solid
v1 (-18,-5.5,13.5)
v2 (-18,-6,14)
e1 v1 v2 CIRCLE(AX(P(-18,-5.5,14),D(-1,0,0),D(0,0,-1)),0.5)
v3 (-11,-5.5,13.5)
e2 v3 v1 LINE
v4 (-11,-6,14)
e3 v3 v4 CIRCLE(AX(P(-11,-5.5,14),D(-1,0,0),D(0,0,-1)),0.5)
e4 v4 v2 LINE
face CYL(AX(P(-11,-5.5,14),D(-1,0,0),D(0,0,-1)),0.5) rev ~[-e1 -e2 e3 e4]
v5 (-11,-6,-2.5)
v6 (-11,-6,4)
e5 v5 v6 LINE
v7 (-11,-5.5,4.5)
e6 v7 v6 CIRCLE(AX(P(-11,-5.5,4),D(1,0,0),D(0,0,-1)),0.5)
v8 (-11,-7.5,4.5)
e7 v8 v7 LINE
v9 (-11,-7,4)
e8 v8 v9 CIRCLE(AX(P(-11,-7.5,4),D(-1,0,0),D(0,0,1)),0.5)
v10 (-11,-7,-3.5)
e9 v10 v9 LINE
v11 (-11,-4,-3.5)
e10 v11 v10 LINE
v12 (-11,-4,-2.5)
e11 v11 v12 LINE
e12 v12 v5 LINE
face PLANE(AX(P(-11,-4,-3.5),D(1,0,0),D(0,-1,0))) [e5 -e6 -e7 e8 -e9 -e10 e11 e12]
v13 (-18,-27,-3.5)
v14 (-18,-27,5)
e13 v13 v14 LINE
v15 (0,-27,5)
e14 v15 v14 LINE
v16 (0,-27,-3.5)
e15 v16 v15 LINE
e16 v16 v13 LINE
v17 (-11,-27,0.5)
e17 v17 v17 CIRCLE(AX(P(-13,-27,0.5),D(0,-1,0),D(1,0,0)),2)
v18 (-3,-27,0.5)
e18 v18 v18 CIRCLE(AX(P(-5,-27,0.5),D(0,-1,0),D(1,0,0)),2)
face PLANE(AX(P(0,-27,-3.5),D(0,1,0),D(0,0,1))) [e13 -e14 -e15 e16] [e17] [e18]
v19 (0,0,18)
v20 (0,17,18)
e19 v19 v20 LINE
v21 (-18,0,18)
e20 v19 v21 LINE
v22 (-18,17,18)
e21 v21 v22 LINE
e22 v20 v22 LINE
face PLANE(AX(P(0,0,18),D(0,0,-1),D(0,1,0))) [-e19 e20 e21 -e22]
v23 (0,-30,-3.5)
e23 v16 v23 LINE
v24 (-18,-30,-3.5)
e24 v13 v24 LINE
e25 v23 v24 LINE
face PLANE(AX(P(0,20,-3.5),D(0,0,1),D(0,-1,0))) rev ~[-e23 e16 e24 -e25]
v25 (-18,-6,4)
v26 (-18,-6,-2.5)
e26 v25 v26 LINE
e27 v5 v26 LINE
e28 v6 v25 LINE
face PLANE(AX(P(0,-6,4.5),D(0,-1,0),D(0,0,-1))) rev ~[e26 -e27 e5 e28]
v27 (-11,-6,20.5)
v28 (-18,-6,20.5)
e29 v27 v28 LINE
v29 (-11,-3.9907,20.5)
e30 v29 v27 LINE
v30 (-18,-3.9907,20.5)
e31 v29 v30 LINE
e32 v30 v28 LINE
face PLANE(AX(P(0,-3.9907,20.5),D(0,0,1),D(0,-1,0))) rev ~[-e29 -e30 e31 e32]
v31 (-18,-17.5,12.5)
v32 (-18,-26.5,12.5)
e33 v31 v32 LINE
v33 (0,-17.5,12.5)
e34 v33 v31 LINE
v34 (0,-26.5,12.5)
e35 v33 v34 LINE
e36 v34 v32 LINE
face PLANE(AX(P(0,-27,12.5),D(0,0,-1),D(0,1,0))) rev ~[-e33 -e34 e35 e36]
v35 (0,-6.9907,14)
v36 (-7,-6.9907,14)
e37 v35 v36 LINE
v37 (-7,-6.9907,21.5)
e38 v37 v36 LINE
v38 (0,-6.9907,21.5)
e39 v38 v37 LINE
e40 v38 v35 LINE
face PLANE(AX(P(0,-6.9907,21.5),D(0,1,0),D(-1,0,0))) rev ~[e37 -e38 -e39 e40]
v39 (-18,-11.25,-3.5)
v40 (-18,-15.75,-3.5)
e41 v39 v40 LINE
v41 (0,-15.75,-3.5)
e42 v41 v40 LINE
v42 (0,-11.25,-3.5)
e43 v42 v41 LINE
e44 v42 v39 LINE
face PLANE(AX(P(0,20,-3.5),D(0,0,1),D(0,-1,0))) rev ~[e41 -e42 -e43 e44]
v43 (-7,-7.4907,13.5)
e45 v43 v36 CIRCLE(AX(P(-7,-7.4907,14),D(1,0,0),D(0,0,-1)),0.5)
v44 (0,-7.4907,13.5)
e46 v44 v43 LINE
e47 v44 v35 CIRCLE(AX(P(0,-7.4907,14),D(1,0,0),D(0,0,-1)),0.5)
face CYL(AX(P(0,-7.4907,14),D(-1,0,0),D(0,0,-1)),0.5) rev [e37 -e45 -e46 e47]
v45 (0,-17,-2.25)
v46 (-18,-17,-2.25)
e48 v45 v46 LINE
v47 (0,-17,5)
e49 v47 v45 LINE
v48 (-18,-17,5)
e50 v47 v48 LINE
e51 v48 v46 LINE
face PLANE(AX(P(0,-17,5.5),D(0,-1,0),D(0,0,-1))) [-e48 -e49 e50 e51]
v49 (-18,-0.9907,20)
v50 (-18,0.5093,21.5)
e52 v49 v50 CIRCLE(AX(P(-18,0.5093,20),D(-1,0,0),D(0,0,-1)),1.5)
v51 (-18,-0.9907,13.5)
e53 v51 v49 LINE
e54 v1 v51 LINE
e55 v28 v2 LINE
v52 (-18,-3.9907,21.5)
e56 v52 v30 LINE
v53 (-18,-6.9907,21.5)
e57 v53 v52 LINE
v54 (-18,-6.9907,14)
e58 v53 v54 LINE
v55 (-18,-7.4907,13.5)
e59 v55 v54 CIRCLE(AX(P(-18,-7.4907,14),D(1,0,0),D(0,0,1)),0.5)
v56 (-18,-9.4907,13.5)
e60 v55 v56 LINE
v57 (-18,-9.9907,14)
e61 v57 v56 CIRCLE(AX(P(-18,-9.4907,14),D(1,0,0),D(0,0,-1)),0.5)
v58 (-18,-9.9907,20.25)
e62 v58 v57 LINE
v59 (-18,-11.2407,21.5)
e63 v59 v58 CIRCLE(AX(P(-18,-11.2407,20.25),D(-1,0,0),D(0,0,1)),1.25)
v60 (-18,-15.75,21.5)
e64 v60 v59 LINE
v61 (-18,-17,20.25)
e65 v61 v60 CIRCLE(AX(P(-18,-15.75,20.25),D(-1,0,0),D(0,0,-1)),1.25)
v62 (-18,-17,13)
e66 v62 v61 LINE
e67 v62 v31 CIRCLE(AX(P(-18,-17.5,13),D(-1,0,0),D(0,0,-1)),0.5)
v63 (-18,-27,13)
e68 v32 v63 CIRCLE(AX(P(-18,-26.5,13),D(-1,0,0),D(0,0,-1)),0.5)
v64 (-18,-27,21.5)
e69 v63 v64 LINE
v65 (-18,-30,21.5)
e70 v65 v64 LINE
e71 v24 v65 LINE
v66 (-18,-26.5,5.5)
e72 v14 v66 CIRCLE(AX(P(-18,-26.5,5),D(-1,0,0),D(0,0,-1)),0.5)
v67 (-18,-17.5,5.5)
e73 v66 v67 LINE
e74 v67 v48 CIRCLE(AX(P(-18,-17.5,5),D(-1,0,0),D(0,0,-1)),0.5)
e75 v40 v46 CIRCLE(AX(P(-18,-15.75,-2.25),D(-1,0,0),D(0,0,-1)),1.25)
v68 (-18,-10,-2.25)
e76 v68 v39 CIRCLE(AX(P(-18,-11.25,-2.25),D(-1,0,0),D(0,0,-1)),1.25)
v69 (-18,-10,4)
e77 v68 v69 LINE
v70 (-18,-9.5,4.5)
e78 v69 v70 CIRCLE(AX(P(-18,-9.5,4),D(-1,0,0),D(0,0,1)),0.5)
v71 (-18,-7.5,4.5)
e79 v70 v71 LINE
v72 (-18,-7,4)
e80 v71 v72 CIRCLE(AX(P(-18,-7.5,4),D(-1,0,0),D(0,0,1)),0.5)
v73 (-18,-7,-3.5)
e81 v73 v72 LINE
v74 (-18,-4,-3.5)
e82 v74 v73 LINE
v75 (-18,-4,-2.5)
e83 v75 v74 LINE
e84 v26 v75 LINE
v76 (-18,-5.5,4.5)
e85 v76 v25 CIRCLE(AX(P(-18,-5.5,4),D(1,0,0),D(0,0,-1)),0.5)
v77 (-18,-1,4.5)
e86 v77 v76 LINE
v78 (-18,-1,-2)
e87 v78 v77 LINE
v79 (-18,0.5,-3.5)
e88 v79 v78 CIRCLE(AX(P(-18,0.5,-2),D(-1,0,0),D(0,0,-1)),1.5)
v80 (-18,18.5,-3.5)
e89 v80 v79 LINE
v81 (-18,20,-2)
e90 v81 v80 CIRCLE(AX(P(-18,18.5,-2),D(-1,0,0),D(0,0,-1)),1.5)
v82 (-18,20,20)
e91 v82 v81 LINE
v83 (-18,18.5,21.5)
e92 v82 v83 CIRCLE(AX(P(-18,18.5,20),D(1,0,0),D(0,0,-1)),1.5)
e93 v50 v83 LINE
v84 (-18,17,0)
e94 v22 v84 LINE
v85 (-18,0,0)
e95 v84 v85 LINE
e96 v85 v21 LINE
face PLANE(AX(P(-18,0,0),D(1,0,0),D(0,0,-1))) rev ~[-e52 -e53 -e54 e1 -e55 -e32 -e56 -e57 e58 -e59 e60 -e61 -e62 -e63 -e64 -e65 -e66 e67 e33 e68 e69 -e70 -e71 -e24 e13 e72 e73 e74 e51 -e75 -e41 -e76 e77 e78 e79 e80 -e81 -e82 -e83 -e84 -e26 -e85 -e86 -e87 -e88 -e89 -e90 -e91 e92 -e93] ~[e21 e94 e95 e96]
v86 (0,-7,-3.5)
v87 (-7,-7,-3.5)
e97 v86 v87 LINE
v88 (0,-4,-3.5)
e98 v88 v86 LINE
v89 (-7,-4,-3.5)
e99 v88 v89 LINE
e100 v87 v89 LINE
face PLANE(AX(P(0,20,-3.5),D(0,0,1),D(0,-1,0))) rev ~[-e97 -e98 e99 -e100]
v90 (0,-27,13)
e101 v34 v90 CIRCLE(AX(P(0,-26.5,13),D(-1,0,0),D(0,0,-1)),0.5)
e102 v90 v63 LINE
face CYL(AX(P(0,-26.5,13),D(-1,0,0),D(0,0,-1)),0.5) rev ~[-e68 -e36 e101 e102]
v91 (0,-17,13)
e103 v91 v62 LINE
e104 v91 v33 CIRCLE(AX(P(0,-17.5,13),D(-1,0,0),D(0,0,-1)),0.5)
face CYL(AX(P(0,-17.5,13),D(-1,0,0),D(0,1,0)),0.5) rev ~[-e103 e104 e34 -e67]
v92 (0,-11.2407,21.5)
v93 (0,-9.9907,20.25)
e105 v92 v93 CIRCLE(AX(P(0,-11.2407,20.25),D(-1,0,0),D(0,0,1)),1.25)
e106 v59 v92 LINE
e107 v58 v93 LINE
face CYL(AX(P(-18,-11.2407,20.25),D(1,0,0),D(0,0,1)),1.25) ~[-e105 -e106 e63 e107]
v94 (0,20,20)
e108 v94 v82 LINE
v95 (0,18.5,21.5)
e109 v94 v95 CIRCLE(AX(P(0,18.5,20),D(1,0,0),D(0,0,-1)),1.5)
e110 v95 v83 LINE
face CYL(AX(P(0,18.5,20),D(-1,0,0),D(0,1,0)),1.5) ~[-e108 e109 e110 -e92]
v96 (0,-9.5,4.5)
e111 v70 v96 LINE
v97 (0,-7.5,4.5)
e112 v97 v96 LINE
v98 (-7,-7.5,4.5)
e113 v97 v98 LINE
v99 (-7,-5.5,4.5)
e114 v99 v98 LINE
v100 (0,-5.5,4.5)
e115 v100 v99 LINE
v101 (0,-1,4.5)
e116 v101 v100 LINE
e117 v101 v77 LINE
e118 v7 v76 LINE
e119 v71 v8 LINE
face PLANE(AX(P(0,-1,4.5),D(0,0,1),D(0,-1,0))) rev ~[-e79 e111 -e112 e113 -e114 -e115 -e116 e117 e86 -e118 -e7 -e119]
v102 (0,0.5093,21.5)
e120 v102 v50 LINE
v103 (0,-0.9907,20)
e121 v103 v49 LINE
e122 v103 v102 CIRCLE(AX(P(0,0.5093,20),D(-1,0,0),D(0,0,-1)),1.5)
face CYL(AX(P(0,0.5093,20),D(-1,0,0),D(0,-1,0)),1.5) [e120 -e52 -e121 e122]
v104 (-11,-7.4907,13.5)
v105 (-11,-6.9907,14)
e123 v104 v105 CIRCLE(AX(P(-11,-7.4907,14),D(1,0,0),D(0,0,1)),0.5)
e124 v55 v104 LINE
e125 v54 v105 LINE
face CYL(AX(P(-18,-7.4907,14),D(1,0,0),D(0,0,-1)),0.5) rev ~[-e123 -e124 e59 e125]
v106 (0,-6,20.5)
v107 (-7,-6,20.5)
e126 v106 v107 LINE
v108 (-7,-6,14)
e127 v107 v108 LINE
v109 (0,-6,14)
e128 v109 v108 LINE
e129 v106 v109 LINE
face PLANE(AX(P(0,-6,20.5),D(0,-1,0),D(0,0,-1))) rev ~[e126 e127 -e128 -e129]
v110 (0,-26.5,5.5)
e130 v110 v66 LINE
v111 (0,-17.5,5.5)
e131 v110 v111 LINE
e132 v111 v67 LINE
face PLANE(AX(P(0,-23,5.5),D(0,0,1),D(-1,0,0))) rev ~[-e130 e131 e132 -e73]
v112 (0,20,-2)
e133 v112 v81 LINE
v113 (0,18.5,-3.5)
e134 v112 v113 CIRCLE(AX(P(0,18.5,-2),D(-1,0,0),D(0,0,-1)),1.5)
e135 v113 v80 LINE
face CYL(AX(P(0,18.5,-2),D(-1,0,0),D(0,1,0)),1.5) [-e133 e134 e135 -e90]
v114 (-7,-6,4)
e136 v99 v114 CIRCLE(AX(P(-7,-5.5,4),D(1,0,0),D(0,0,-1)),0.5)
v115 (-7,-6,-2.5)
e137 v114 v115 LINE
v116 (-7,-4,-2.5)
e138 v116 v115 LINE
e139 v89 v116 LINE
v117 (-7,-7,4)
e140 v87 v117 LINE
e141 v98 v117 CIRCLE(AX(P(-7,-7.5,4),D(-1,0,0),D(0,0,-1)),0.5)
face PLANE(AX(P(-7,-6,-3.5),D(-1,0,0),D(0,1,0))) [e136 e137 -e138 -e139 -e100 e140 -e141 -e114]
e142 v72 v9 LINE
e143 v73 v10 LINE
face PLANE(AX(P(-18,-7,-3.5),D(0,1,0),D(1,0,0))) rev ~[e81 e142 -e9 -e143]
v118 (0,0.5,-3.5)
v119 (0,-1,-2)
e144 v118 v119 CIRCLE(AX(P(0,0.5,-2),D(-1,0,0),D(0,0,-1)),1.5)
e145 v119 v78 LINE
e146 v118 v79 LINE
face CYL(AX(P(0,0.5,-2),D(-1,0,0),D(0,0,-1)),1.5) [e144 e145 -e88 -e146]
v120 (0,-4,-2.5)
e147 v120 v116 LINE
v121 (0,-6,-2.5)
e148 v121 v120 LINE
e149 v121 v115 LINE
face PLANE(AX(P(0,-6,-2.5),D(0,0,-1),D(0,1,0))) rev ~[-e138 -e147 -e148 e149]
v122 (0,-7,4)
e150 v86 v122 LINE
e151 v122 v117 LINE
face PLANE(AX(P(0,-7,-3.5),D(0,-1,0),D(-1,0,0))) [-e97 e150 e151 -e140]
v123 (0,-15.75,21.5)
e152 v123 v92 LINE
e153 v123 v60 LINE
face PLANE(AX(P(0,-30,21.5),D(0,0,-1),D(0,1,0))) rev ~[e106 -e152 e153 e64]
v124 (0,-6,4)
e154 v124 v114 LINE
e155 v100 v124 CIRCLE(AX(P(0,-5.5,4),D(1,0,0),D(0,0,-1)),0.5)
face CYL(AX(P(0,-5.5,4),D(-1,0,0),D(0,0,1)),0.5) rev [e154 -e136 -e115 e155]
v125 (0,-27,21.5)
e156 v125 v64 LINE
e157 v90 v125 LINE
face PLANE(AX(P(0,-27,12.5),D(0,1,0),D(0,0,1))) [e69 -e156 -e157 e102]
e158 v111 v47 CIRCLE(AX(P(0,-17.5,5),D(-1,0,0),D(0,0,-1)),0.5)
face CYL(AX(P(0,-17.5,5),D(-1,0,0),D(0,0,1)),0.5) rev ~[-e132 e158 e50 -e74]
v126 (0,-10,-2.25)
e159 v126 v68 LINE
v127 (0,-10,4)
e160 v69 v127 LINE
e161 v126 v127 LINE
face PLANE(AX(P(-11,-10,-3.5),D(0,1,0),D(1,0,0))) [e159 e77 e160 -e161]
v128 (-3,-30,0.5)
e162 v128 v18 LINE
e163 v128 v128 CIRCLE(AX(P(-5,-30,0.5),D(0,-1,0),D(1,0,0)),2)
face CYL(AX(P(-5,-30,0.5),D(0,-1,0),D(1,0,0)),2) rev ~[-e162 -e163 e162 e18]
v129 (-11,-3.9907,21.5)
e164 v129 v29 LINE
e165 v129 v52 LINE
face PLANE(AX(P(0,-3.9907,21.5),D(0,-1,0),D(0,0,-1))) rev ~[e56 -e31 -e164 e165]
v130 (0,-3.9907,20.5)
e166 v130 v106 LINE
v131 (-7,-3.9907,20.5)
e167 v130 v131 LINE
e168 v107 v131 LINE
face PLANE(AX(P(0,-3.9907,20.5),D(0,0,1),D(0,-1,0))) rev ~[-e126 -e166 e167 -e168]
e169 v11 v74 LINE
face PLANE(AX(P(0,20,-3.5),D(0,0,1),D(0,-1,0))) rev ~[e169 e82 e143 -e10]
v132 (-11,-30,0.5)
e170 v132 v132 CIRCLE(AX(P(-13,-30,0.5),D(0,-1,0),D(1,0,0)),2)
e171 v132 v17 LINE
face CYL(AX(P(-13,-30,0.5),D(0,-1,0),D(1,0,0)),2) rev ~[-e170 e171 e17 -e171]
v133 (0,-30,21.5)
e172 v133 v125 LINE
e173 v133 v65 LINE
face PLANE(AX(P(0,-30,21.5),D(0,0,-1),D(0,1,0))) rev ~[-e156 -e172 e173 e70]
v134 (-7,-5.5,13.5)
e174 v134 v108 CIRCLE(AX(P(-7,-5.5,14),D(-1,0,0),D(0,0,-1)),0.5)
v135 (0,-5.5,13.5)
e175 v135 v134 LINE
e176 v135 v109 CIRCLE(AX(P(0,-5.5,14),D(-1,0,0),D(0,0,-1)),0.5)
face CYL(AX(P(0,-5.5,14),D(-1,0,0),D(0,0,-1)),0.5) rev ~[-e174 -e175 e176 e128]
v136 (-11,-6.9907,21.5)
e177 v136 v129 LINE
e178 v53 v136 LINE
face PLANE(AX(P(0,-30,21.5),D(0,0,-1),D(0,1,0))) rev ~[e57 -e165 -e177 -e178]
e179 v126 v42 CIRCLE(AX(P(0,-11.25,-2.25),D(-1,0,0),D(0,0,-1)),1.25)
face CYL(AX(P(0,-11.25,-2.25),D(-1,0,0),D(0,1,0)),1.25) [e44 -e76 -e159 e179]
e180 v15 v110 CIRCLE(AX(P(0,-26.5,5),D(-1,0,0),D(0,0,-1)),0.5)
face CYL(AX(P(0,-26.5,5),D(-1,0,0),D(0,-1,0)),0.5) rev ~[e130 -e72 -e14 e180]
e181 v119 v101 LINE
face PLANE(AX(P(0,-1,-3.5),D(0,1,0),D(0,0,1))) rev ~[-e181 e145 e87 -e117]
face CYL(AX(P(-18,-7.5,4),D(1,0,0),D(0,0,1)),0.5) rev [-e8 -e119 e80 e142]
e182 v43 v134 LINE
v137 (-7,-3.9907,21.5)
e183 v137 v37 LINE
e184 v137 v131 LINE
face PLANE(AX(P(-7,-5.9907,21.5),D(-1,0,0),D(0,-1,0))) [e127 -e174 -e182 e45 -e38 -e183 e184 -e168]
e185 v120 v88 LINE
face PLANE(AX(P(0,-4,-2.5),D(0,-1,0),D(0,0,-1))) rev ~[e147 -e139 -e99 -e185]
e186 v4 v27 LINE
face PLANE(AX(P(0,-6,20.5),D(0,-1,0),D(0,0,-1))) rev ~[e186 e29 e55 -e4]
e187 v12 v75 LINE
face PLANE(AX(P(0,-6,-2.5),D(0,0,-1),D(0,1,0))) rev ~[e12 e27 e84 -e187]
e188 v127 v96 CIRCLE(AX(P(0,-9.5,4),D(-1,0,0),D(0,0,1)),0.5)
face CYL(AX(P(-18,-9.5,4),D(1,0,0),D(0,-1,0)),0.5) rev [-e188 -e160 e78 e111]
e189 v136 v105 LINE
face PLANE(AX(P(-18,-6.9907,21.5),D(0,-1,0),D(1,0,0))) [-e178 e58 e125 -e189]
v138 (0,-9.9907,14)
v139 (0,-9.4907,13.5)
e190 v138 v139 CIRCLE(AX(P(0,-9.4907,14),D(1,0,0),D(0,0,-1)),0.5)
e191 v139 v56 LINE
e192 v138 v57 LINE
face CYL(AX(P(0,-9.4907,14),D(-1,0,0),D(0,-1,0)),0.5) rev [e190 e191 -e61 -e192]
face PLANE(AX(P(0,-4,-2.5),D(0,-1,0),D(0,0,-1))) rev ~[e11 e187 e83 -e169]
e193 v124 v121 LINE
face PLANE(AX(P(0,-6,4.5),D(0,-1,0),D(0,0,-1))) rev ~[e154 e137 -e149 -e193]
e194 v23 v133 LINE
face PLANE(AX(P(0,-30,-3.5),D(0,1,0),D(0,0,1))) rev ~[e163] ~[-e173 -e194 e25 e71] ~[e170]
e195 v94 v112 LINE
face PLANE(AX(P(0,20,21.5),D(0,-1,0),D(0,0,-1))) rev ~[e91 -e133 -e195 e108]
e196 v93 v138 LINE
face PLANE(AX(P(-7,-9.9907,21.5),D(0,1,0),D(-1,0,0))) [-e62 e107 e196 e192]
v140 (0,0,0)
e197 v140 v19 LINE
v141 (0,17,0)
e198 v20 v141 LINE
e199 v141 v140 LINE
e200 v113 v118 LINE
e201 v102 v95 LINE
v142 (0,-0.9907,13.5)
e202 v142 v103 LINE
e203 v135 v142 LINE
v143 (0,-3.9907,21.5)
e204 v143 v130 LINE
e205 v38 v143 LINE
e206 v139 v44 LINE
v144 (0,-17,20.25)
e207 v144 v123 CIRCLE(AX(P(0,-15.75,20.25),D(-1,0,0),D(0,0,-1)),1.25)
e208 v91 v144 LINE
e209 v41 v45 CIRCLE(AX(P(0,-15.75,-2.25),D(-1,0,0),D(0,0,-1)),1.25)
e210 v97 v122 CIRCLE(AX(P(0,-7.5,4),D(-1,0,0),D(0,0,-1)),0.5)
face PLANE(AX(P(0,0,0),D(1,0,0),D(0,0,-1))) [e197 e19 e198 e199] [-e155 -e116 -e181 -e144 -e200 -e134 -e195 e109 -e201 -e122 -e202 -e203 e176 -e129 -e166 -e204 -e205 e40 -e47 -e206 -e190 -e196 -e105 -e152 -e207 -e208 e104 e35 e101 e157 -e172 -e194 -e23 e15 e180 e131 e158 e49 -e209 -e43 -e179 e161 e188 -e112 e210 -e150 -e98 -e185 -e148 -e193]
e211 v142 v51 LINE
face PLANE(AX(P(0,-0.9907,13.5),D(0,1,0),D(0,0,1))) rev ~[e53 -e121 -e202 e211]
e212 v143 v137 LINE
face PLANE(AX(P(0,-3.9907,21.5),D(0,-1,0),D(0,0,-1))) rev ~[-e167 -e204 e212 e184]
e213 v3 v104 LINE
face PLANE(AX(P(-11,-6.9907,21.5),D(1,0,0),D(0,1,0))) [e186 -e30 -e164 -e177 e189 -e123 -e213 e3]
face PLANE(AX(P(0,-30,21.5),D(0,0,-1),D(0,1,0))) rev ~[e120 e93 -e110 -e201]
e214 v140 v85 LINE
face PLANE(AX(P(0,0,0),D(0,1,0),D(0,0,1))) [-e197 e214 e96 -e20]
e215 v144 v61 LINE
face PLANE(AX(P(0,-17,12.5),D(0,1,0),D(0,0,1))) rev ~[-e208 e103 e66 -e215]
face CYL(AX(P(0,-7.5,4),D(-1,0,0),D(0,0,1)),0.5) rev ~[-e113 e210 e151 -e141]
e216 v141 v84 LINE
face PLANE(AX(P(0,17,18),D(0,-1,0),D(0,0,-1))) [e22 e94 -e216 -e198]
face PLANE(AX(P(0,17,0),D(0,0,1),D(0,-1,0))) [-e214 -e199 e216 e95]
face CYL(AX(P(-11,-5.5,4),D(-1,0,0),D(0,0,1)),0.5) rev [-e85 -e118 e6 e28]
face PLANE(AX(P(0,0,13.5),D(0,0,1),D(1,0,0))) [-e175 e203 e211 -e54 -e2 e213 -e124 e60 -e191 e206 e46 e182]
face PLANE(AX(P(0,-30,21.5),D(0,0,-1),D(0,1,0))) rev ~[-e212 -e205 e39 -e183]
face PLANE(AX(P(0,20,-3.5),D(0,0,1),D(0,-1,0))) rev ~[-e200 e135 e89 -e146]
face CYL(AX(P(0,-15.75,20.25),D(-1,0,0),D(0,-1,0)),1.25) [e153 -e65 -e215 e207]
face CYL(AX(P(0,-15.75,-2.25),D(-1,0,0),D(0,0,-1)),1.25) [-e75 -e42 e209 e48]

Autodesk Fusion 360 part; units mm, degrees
sketch "Sketch1" plane through (0, 0, 0) normal (1, 0, 0) x (0, 0, -1)
  line L0 (0, 0) -> (-18, 0)
  line L1 (-18, 0) -> (-18, 17)
  line L2 (-18, 17) -> (0, 17)
  line L3 (0, 17) -> (0, 0)
  line L4 (-21.5, 20) -> (3.5, 20)
  line L5 (3.5, 20) -> (3.5, -30)
  line L6 (3.5, -30) -> (-21.5, -30)
  line L7 (-21.5, -30) -> (-21.5, 20)
  dimension "d1" = 18
  dimension "d2" = 17
  dimension "d3" = 25
  dimension "d4" = 50
  dimension "d66" = 3.5
extrude "Extrude1" add sketch "Sketch1" against normal blind 18
fillet "Fillet1" radius 1.5 2 edges at (-9, 20, -3.5) (-9, 20, 21.5)
sketch "Sketch2" plane through (0, 0, 0) normal (1, 0, 0) x (0, 0, -1)
  line L0 (-18, 17) -> (0, 17)
  line L1 (0, 17) -> (0, 0)
  line L2 (0, 0) -> (-18, 0)
  line L3 (-18, 0) -> (-18, 17)
  arc A0 (-20, 20) -> (-21.5, 18.5) centre (-20, 18.5) ccw
  line L4 (-21.5, 18.5) -> (-21.5, -30)
  line L5 (-21.5, -30) -> (3.5, -30)
  line L6 (3.5, -30) -> (3.5, 18.5)
  arc A1 (3.5, 18.5) -> (2, 20) centre (2, 18.5) ccw
  line L7 (2, 20) -> (-20, 20)
  line L8 (-21.5, -3.9907) -> (-20.5, -3.9907)
  line L9 (-20.5, -3.9907) -> (-20.5, -6)
  line L10 (-20.5, -6) -> (-13.5, -6)
  line L11 (-13.5, -6) -> (-13.5, -0.9907)
  line L12 (-13.5, -0.9907) -> (-21.5, -0.9907)
  line L13 (3.5, -1) -> (-4.5, -1)
  line L14 (-4.5, -1) -> (-4.5, -6)
  line L15 (-4.5, -6) -> (2.5, -6)
  line L16 (2.5, -6) -> (2.5, -4)
  line L17 (2.5, -4) -> (3.5, -4)
  dimension "d9" = 7
  dimension "d10" = 8
  dimension "d12" = 5.0093
  dimension "d13" = 1
  dimension "d14" = 3
  dimension "d15" = 3
  dimension "d16" = 5
  dimension "d17" = 1
extrude "Extrude2" cut sketch "Sketch2" against normal blind 43 contours L4 L8 L9 L10 L11 L12 | L6 L13 L14 L15 L16 L17
sketch "Sketch3" plane through (0, 0, 21.5) normal (0, 0, 1) x (1, 0, 0)
  line L0 (0, -3.9907) -> (-18, -3.9907)
  line L1 (-18, -3.9907) -> (-18, -30)
  line L2 (-18, -30) -> (0, -30)
  line L3 (0, -30) -> (0, -3.9907)
  line L4 (0, -3.9907) -> (-7, -3.9907)
  line L5 (-7, -3.9907) -> (-7, -5.9907)
  line L6 (-7, -5.9907) -> (0, -5.9907)
  line L7 (0, -5.9907) -> (0, -3.9907)
  line L8 (-18, -3.9907) -> (-11, -3.9907)
  line L9 (-11, -3.9907) -> (-11, -5.9907)
  line L10 (-11, -5.9907) -> (-18, -5.9907)
  line L11 (-18, -5.9907) -> (-18, -3.9907)
  line L12 (-11, -3.9907) -> (-7, -3.9907)
  line L13 (-7, -3.9907) -> (-7, -5.9907)
  line L14 (-7, -5.9907) -> (-11, -5.9907)
  line L15 (-11, -5.9907) -> (-11, -3.9907)
  dimension "d21" = 7
  dimension "d22" = 2
  dimension "d23" = 7
  dimension "d24" = 2
extrude "Extrude3" cut sketch "Sketch3" against normal blind 8 contours L0 L5 L9 L12 L13 L14 L15
sketch "Sketch4" plane through (0, 0, -3.5) normal (0, 0, -1) x (-1, 0, 0)
  line L0 (18, -4) -> (0, -4)
  line L1 (0, -4) -> (0, -30)
  line L2 (0, -30) -> (18, -30)
  line L3 (18, -30) -> (18, -4)
  line L4 (0, -4) -> (7, -4)
  line L5 (7, -4) -> (7, -6)
  line L6 (7, -6) -> (0, -6)
  line L7 (0, -6) -> (0, -4)
  line L8 (18, -4) -> (11, -4)
  line L9 (11, -4) -> (11, -6)
  line L10 (11, -6) -> (18, -6)
  line L11 (18, -6) -> (18, -4)
  line L12 (7, -4) -> (11, -4)
  line L13 (11, -4) -> (11, -6)
  line L14 (11, -6) -> (7, -6)
  line L15 (7, -6) -> (7, -4)
  dimension "d27" = 7
  dimension "d28" = 2
  dimension "d29" = 7
  dimension "d30" = 2
extrude "Extrude4" cut sketch "Sketch4" against normal blind 8 contours L0 L5 L9 L12 L13 L14 L15
sketch "Sketch5" plane through (0, 0, -3.5) normal (0, 0, -1) x (-1, 0, 0)
  line L0 (7, -6) -> (7, -4)
  line L1 (7, -4) -> (0, -4)
  line L2 (0, -4) -> (0, -30)
  line L3 (0, -30) -> (18, -30)
  line L4 (18, -30) -> (18, -4)
  line L5 (18, -4) -> (11, -4)
  line L6 (11, -4) -> (11, -6)
  line L7 (11, -6) -> (7, -6)
  line L8 (7, -4) -> (11, -4)
  line L9 (11, -4) -> (11, -10)
  line L10 (11, -10) -> (7, -10)
  line L11 (7, -10) -> (7, -4)
  line L12 (11, -10) -> (18, -10)
  line L13 (18, -10) -> (18, -7)
  line L14 (18, -7) -> (11, -7)
  line L15 (11, -7) -> (11, -10)
  line L16 (7, -10) -> (0, -10)
  line L17 (0, -10) -> (0, -7)
  line L18 (0, -7) -> (7, -7)
  line L19 (7, -7) -> (7, -10)
  dimension "d33" = 3
extrude "Extrude5" cut sketch "Sketch5" against normal blind 8 contours L0 L6 L7 L8 L9 L11 | L7 L9 L10 L11 L15 L19 | L2 L11 L16 L17 L18 L19 | L4 L9 L12 L13 L14 L15
sketch "Sketch6" plane through (0, 0, 21.5) normal (0, 0, 1) x (1, 0, 0)
  line L0 (-11, -5.9907) -> (-11, -3.9907)
  line L1 (-11, -3.9907) -> (-18, -3.9907)
  line L2 (-18, -3.9907) -> (-18, -30)
  line L3 (-18, -30) -> (0, -30)
  line L4 (0, -30) -> (0, -3.9907)
  line L5 (0, -3.9907) -> (-7, -3.9907)
  line L6 (-7, -3.9907) -> (-7, -5.9907)
  line L7 (-7, -5.9907) -> (-11, -5.9907)
  line L8 (-11, -5.9907) -> (-7, -5.9907)
  line L9 (-7, -5.9907) -> (-7, -9.9907)
  line L10 (-7, -9.9907) -> (-11, -9.9907)
  line L11 (-11, -9.9907) -> (-11, -5.9907)
  line L12 (-7, -9.9907) -> (0, -9.9907)
  line L13 (0, -9.9907) -> (0, -6.9907)
  line L14 (0, -6.9907) -> (-7, -6.9907)
  line L15 (-7, -6.9907) -> (-7, -9.9907)
  line L16 (-11, -9.9907) -> (-18, -9.9907)
  line L17 (-18, -9.9907) -> (-18, -6.9907)
  line L18 (-18, -6.9907) -> (-11, -6.9907)
  line L19 (-11, -6.9907) -> (-11, -9.9907)
  dimension "d36" = 4
  dimension "d37" = 3
  dimension "d38" = 3
  dimension "d39" = 7
extrude "Extrude6" cut sketch "Sketch6" against normal blind 8 contours L7 L8 L9 L10 L11 L15 L19 | L2 L11 L16 L17 L18 L19 | L4 L9 L12 L13 L14 L15
sketch "Sketch7" plane through (0, -30, 0) normal (0, -1, 0) x (1, 0, 0)
  line L0 (0, -3.5) -> (0, 21.5)
  line L1 (0, 21.5) -> (-18, 21.5)
  line L2 (-18, 21.5) -> (-18, -3.5)
  line L3 (-18, -3.5) -> (0, -3.5)
sketch "Sketch8" plane through (0, 0, 0) normal (1, 0, 0) x (0, 0, -1)
  line L0 (-13.5, -9.9907) -> (-21.5, -9.9907)
  line L1 (-21.5, -9.9907) -> (-21.5, -30)
  line L2 (-21.5, -30) -> (3.5, -30)
  line L3 (3.5, -30) -> (3.5, -10)
  line L4 (3.5, -10) -> (-4.5, -10)
  line L5 (-4.5, -10) -> (-4.5, -7)
  line L6 (-4.5, -7) -> (3.5, -7)
  line L7 (3.5, -7) -> (3.5, -4)
  line L8 (3.5, -4) -> (2.5, -4)
  line L9 (2.5, -4) -> (2.5, -6)
  line L10 (2.5, -6) -> (-4.5, -6)
  line L11 (-4.5, -6) -> (-4.5, -1)
  line L12 (-4.5, -1) -> (3.5, -1)
  line L13 (3.5, -1) -> (3.5, 18.5)
  arc A0 (3.5, 18.5) -> (2, 20) centre (2, 18.5) ccw
  line L14 (2, 20) -> (-20, 20)
  arc A1 (-20, 20) -> (-21.5, 18.5) centre (-20, 18.5) ccw
  line L15 (-21.5, 18.5) -> (-21.5, -0.9907)
  line L16 (-21.5, -0.9907) -> (-13.5, -0.9907)
  line L17 (-13.5, -0.9907) -> (-13.5, -6)
  line L18 (-13.5, -6) -> (-20.5, -6)
  line L19 (-20.5, -6) -> (-20.5, -3.9907)
  line L20 (-20.5, -3.9907) -> (-21.5, -3.9907)
  line L21 (-21.5, -3.9907) -> (-21.5, -6.9907)
  line L22 (-21.5, -6.9907) -> (-13.5, -6.9907)
  line L23 (-13.5, -6.9907) -> (-13.5, -9.9907)
  line L24 (-18, 17) -> (0, 17)
  line L25 (0, 17) -> (0, 0)
  line L26 (0, 0) -> (-18, 0)
  line L27 (-18, 0) -> (-18, 17)
  line L28 (-21.5, -30) -> (3.5, -30)
  line L29 (3.5, -30) -> (3.5, -27)
  line L30 (3.5, -27) -> (-21.5, -27)
  line L31 (-21.5, -27) -> (-21.5, -30)
  line L32 (-21.5, -27) -> (-12.5, -27)
  line L33 (-12.5, -27) -> (-12.5, -23)
  line L34 (-12.5, -23) -> (-21.5, -23)
  line L35 (-21.5, -23) -> (-21.5, -27)
  line L36 (3.5, -27) -> (-5.5, -27)
  line L37 (-5.5, -27) -> (-5.5, -23)
  line L38 (-5.5, -23) -> (3.5, -23)
  line L39 (3.5, -23) -> (3.5, -27)
  dimension "d42" = 3
extrude "Extrude7" cut sketch "Sketch8" against normal blind 32 contours L1 L30 L32 L33 L34 L35 | L3 L30 L36 L37 L38 L39
fillet "Fillet2" radius 0.5 8 edges at (-14.5, -6, 13.5) (-3.5, -6, 13.5) (-3.5, -6.9907, 13.5) (-14.5, -6.9907, 13.5) (-3.5, -7, 4.5) (-3.5, -6, 4.5) (-14.5, -6, 4.5) (-14.5, -7, 4.5)
sketch "Sketch9" plane through (0, -30, 0) normal (0, -1, 0) x (1, 0, 0)
  line L0 (0, 20) -> (-18, 20)
  line L1 (-18, 20) -> (-18, -5)
  line L2 (-18, -5) -> (0, -5)
  line L3 (0, -5) -> (0, 20)
  line L4 (0, 20) -> (0, 7.5)
  line L5 (0, 7.5) -> (-18, 7.5)
  line L6 (-18, 7.5) -> (-13, 7.5)
  circle A0 centre (-13, 0.5) radius 2
  line L7 (-9, -5) -> (-9, 20)
  circle A1 centre (-5, 0.5) radius 2
  dimension "d50" = 4
  dimension "d63" = 4
  dimension "d64" = 4
  dimension "d65" = 4
extrude "Extrude8" cut sketch "Sketch9" against normal blind 5 contours A0 | A1
extrude "Extrude9" cut 2 faces at (-12, -23, 15.5) (-12, -23, -0.5) along direction (0, 1, 0) blind 6
fillet "Fillet3" radius 1.25 4 edges at (-9, -9.9907, 21.5) (-9, -17, 21.5) (-9, -10, -3.5) (-9, -17, -3.5)
fillet "Fillet4" radius 0.5 4 edges at (-9, -10, 4.5) (-9, -17, 5.5) (-9, -17, 12.5) (-9, -9.9907, 13.5)
fillet "Fillet5" radius 0.5 2 edges at (-9, -27, 12.5) (-9, -27, 5.5)
fillet "Fillet6" radius 1.5 2 edges at (-9, -1, -3.5) (-9, -0.9907, 21.5)
